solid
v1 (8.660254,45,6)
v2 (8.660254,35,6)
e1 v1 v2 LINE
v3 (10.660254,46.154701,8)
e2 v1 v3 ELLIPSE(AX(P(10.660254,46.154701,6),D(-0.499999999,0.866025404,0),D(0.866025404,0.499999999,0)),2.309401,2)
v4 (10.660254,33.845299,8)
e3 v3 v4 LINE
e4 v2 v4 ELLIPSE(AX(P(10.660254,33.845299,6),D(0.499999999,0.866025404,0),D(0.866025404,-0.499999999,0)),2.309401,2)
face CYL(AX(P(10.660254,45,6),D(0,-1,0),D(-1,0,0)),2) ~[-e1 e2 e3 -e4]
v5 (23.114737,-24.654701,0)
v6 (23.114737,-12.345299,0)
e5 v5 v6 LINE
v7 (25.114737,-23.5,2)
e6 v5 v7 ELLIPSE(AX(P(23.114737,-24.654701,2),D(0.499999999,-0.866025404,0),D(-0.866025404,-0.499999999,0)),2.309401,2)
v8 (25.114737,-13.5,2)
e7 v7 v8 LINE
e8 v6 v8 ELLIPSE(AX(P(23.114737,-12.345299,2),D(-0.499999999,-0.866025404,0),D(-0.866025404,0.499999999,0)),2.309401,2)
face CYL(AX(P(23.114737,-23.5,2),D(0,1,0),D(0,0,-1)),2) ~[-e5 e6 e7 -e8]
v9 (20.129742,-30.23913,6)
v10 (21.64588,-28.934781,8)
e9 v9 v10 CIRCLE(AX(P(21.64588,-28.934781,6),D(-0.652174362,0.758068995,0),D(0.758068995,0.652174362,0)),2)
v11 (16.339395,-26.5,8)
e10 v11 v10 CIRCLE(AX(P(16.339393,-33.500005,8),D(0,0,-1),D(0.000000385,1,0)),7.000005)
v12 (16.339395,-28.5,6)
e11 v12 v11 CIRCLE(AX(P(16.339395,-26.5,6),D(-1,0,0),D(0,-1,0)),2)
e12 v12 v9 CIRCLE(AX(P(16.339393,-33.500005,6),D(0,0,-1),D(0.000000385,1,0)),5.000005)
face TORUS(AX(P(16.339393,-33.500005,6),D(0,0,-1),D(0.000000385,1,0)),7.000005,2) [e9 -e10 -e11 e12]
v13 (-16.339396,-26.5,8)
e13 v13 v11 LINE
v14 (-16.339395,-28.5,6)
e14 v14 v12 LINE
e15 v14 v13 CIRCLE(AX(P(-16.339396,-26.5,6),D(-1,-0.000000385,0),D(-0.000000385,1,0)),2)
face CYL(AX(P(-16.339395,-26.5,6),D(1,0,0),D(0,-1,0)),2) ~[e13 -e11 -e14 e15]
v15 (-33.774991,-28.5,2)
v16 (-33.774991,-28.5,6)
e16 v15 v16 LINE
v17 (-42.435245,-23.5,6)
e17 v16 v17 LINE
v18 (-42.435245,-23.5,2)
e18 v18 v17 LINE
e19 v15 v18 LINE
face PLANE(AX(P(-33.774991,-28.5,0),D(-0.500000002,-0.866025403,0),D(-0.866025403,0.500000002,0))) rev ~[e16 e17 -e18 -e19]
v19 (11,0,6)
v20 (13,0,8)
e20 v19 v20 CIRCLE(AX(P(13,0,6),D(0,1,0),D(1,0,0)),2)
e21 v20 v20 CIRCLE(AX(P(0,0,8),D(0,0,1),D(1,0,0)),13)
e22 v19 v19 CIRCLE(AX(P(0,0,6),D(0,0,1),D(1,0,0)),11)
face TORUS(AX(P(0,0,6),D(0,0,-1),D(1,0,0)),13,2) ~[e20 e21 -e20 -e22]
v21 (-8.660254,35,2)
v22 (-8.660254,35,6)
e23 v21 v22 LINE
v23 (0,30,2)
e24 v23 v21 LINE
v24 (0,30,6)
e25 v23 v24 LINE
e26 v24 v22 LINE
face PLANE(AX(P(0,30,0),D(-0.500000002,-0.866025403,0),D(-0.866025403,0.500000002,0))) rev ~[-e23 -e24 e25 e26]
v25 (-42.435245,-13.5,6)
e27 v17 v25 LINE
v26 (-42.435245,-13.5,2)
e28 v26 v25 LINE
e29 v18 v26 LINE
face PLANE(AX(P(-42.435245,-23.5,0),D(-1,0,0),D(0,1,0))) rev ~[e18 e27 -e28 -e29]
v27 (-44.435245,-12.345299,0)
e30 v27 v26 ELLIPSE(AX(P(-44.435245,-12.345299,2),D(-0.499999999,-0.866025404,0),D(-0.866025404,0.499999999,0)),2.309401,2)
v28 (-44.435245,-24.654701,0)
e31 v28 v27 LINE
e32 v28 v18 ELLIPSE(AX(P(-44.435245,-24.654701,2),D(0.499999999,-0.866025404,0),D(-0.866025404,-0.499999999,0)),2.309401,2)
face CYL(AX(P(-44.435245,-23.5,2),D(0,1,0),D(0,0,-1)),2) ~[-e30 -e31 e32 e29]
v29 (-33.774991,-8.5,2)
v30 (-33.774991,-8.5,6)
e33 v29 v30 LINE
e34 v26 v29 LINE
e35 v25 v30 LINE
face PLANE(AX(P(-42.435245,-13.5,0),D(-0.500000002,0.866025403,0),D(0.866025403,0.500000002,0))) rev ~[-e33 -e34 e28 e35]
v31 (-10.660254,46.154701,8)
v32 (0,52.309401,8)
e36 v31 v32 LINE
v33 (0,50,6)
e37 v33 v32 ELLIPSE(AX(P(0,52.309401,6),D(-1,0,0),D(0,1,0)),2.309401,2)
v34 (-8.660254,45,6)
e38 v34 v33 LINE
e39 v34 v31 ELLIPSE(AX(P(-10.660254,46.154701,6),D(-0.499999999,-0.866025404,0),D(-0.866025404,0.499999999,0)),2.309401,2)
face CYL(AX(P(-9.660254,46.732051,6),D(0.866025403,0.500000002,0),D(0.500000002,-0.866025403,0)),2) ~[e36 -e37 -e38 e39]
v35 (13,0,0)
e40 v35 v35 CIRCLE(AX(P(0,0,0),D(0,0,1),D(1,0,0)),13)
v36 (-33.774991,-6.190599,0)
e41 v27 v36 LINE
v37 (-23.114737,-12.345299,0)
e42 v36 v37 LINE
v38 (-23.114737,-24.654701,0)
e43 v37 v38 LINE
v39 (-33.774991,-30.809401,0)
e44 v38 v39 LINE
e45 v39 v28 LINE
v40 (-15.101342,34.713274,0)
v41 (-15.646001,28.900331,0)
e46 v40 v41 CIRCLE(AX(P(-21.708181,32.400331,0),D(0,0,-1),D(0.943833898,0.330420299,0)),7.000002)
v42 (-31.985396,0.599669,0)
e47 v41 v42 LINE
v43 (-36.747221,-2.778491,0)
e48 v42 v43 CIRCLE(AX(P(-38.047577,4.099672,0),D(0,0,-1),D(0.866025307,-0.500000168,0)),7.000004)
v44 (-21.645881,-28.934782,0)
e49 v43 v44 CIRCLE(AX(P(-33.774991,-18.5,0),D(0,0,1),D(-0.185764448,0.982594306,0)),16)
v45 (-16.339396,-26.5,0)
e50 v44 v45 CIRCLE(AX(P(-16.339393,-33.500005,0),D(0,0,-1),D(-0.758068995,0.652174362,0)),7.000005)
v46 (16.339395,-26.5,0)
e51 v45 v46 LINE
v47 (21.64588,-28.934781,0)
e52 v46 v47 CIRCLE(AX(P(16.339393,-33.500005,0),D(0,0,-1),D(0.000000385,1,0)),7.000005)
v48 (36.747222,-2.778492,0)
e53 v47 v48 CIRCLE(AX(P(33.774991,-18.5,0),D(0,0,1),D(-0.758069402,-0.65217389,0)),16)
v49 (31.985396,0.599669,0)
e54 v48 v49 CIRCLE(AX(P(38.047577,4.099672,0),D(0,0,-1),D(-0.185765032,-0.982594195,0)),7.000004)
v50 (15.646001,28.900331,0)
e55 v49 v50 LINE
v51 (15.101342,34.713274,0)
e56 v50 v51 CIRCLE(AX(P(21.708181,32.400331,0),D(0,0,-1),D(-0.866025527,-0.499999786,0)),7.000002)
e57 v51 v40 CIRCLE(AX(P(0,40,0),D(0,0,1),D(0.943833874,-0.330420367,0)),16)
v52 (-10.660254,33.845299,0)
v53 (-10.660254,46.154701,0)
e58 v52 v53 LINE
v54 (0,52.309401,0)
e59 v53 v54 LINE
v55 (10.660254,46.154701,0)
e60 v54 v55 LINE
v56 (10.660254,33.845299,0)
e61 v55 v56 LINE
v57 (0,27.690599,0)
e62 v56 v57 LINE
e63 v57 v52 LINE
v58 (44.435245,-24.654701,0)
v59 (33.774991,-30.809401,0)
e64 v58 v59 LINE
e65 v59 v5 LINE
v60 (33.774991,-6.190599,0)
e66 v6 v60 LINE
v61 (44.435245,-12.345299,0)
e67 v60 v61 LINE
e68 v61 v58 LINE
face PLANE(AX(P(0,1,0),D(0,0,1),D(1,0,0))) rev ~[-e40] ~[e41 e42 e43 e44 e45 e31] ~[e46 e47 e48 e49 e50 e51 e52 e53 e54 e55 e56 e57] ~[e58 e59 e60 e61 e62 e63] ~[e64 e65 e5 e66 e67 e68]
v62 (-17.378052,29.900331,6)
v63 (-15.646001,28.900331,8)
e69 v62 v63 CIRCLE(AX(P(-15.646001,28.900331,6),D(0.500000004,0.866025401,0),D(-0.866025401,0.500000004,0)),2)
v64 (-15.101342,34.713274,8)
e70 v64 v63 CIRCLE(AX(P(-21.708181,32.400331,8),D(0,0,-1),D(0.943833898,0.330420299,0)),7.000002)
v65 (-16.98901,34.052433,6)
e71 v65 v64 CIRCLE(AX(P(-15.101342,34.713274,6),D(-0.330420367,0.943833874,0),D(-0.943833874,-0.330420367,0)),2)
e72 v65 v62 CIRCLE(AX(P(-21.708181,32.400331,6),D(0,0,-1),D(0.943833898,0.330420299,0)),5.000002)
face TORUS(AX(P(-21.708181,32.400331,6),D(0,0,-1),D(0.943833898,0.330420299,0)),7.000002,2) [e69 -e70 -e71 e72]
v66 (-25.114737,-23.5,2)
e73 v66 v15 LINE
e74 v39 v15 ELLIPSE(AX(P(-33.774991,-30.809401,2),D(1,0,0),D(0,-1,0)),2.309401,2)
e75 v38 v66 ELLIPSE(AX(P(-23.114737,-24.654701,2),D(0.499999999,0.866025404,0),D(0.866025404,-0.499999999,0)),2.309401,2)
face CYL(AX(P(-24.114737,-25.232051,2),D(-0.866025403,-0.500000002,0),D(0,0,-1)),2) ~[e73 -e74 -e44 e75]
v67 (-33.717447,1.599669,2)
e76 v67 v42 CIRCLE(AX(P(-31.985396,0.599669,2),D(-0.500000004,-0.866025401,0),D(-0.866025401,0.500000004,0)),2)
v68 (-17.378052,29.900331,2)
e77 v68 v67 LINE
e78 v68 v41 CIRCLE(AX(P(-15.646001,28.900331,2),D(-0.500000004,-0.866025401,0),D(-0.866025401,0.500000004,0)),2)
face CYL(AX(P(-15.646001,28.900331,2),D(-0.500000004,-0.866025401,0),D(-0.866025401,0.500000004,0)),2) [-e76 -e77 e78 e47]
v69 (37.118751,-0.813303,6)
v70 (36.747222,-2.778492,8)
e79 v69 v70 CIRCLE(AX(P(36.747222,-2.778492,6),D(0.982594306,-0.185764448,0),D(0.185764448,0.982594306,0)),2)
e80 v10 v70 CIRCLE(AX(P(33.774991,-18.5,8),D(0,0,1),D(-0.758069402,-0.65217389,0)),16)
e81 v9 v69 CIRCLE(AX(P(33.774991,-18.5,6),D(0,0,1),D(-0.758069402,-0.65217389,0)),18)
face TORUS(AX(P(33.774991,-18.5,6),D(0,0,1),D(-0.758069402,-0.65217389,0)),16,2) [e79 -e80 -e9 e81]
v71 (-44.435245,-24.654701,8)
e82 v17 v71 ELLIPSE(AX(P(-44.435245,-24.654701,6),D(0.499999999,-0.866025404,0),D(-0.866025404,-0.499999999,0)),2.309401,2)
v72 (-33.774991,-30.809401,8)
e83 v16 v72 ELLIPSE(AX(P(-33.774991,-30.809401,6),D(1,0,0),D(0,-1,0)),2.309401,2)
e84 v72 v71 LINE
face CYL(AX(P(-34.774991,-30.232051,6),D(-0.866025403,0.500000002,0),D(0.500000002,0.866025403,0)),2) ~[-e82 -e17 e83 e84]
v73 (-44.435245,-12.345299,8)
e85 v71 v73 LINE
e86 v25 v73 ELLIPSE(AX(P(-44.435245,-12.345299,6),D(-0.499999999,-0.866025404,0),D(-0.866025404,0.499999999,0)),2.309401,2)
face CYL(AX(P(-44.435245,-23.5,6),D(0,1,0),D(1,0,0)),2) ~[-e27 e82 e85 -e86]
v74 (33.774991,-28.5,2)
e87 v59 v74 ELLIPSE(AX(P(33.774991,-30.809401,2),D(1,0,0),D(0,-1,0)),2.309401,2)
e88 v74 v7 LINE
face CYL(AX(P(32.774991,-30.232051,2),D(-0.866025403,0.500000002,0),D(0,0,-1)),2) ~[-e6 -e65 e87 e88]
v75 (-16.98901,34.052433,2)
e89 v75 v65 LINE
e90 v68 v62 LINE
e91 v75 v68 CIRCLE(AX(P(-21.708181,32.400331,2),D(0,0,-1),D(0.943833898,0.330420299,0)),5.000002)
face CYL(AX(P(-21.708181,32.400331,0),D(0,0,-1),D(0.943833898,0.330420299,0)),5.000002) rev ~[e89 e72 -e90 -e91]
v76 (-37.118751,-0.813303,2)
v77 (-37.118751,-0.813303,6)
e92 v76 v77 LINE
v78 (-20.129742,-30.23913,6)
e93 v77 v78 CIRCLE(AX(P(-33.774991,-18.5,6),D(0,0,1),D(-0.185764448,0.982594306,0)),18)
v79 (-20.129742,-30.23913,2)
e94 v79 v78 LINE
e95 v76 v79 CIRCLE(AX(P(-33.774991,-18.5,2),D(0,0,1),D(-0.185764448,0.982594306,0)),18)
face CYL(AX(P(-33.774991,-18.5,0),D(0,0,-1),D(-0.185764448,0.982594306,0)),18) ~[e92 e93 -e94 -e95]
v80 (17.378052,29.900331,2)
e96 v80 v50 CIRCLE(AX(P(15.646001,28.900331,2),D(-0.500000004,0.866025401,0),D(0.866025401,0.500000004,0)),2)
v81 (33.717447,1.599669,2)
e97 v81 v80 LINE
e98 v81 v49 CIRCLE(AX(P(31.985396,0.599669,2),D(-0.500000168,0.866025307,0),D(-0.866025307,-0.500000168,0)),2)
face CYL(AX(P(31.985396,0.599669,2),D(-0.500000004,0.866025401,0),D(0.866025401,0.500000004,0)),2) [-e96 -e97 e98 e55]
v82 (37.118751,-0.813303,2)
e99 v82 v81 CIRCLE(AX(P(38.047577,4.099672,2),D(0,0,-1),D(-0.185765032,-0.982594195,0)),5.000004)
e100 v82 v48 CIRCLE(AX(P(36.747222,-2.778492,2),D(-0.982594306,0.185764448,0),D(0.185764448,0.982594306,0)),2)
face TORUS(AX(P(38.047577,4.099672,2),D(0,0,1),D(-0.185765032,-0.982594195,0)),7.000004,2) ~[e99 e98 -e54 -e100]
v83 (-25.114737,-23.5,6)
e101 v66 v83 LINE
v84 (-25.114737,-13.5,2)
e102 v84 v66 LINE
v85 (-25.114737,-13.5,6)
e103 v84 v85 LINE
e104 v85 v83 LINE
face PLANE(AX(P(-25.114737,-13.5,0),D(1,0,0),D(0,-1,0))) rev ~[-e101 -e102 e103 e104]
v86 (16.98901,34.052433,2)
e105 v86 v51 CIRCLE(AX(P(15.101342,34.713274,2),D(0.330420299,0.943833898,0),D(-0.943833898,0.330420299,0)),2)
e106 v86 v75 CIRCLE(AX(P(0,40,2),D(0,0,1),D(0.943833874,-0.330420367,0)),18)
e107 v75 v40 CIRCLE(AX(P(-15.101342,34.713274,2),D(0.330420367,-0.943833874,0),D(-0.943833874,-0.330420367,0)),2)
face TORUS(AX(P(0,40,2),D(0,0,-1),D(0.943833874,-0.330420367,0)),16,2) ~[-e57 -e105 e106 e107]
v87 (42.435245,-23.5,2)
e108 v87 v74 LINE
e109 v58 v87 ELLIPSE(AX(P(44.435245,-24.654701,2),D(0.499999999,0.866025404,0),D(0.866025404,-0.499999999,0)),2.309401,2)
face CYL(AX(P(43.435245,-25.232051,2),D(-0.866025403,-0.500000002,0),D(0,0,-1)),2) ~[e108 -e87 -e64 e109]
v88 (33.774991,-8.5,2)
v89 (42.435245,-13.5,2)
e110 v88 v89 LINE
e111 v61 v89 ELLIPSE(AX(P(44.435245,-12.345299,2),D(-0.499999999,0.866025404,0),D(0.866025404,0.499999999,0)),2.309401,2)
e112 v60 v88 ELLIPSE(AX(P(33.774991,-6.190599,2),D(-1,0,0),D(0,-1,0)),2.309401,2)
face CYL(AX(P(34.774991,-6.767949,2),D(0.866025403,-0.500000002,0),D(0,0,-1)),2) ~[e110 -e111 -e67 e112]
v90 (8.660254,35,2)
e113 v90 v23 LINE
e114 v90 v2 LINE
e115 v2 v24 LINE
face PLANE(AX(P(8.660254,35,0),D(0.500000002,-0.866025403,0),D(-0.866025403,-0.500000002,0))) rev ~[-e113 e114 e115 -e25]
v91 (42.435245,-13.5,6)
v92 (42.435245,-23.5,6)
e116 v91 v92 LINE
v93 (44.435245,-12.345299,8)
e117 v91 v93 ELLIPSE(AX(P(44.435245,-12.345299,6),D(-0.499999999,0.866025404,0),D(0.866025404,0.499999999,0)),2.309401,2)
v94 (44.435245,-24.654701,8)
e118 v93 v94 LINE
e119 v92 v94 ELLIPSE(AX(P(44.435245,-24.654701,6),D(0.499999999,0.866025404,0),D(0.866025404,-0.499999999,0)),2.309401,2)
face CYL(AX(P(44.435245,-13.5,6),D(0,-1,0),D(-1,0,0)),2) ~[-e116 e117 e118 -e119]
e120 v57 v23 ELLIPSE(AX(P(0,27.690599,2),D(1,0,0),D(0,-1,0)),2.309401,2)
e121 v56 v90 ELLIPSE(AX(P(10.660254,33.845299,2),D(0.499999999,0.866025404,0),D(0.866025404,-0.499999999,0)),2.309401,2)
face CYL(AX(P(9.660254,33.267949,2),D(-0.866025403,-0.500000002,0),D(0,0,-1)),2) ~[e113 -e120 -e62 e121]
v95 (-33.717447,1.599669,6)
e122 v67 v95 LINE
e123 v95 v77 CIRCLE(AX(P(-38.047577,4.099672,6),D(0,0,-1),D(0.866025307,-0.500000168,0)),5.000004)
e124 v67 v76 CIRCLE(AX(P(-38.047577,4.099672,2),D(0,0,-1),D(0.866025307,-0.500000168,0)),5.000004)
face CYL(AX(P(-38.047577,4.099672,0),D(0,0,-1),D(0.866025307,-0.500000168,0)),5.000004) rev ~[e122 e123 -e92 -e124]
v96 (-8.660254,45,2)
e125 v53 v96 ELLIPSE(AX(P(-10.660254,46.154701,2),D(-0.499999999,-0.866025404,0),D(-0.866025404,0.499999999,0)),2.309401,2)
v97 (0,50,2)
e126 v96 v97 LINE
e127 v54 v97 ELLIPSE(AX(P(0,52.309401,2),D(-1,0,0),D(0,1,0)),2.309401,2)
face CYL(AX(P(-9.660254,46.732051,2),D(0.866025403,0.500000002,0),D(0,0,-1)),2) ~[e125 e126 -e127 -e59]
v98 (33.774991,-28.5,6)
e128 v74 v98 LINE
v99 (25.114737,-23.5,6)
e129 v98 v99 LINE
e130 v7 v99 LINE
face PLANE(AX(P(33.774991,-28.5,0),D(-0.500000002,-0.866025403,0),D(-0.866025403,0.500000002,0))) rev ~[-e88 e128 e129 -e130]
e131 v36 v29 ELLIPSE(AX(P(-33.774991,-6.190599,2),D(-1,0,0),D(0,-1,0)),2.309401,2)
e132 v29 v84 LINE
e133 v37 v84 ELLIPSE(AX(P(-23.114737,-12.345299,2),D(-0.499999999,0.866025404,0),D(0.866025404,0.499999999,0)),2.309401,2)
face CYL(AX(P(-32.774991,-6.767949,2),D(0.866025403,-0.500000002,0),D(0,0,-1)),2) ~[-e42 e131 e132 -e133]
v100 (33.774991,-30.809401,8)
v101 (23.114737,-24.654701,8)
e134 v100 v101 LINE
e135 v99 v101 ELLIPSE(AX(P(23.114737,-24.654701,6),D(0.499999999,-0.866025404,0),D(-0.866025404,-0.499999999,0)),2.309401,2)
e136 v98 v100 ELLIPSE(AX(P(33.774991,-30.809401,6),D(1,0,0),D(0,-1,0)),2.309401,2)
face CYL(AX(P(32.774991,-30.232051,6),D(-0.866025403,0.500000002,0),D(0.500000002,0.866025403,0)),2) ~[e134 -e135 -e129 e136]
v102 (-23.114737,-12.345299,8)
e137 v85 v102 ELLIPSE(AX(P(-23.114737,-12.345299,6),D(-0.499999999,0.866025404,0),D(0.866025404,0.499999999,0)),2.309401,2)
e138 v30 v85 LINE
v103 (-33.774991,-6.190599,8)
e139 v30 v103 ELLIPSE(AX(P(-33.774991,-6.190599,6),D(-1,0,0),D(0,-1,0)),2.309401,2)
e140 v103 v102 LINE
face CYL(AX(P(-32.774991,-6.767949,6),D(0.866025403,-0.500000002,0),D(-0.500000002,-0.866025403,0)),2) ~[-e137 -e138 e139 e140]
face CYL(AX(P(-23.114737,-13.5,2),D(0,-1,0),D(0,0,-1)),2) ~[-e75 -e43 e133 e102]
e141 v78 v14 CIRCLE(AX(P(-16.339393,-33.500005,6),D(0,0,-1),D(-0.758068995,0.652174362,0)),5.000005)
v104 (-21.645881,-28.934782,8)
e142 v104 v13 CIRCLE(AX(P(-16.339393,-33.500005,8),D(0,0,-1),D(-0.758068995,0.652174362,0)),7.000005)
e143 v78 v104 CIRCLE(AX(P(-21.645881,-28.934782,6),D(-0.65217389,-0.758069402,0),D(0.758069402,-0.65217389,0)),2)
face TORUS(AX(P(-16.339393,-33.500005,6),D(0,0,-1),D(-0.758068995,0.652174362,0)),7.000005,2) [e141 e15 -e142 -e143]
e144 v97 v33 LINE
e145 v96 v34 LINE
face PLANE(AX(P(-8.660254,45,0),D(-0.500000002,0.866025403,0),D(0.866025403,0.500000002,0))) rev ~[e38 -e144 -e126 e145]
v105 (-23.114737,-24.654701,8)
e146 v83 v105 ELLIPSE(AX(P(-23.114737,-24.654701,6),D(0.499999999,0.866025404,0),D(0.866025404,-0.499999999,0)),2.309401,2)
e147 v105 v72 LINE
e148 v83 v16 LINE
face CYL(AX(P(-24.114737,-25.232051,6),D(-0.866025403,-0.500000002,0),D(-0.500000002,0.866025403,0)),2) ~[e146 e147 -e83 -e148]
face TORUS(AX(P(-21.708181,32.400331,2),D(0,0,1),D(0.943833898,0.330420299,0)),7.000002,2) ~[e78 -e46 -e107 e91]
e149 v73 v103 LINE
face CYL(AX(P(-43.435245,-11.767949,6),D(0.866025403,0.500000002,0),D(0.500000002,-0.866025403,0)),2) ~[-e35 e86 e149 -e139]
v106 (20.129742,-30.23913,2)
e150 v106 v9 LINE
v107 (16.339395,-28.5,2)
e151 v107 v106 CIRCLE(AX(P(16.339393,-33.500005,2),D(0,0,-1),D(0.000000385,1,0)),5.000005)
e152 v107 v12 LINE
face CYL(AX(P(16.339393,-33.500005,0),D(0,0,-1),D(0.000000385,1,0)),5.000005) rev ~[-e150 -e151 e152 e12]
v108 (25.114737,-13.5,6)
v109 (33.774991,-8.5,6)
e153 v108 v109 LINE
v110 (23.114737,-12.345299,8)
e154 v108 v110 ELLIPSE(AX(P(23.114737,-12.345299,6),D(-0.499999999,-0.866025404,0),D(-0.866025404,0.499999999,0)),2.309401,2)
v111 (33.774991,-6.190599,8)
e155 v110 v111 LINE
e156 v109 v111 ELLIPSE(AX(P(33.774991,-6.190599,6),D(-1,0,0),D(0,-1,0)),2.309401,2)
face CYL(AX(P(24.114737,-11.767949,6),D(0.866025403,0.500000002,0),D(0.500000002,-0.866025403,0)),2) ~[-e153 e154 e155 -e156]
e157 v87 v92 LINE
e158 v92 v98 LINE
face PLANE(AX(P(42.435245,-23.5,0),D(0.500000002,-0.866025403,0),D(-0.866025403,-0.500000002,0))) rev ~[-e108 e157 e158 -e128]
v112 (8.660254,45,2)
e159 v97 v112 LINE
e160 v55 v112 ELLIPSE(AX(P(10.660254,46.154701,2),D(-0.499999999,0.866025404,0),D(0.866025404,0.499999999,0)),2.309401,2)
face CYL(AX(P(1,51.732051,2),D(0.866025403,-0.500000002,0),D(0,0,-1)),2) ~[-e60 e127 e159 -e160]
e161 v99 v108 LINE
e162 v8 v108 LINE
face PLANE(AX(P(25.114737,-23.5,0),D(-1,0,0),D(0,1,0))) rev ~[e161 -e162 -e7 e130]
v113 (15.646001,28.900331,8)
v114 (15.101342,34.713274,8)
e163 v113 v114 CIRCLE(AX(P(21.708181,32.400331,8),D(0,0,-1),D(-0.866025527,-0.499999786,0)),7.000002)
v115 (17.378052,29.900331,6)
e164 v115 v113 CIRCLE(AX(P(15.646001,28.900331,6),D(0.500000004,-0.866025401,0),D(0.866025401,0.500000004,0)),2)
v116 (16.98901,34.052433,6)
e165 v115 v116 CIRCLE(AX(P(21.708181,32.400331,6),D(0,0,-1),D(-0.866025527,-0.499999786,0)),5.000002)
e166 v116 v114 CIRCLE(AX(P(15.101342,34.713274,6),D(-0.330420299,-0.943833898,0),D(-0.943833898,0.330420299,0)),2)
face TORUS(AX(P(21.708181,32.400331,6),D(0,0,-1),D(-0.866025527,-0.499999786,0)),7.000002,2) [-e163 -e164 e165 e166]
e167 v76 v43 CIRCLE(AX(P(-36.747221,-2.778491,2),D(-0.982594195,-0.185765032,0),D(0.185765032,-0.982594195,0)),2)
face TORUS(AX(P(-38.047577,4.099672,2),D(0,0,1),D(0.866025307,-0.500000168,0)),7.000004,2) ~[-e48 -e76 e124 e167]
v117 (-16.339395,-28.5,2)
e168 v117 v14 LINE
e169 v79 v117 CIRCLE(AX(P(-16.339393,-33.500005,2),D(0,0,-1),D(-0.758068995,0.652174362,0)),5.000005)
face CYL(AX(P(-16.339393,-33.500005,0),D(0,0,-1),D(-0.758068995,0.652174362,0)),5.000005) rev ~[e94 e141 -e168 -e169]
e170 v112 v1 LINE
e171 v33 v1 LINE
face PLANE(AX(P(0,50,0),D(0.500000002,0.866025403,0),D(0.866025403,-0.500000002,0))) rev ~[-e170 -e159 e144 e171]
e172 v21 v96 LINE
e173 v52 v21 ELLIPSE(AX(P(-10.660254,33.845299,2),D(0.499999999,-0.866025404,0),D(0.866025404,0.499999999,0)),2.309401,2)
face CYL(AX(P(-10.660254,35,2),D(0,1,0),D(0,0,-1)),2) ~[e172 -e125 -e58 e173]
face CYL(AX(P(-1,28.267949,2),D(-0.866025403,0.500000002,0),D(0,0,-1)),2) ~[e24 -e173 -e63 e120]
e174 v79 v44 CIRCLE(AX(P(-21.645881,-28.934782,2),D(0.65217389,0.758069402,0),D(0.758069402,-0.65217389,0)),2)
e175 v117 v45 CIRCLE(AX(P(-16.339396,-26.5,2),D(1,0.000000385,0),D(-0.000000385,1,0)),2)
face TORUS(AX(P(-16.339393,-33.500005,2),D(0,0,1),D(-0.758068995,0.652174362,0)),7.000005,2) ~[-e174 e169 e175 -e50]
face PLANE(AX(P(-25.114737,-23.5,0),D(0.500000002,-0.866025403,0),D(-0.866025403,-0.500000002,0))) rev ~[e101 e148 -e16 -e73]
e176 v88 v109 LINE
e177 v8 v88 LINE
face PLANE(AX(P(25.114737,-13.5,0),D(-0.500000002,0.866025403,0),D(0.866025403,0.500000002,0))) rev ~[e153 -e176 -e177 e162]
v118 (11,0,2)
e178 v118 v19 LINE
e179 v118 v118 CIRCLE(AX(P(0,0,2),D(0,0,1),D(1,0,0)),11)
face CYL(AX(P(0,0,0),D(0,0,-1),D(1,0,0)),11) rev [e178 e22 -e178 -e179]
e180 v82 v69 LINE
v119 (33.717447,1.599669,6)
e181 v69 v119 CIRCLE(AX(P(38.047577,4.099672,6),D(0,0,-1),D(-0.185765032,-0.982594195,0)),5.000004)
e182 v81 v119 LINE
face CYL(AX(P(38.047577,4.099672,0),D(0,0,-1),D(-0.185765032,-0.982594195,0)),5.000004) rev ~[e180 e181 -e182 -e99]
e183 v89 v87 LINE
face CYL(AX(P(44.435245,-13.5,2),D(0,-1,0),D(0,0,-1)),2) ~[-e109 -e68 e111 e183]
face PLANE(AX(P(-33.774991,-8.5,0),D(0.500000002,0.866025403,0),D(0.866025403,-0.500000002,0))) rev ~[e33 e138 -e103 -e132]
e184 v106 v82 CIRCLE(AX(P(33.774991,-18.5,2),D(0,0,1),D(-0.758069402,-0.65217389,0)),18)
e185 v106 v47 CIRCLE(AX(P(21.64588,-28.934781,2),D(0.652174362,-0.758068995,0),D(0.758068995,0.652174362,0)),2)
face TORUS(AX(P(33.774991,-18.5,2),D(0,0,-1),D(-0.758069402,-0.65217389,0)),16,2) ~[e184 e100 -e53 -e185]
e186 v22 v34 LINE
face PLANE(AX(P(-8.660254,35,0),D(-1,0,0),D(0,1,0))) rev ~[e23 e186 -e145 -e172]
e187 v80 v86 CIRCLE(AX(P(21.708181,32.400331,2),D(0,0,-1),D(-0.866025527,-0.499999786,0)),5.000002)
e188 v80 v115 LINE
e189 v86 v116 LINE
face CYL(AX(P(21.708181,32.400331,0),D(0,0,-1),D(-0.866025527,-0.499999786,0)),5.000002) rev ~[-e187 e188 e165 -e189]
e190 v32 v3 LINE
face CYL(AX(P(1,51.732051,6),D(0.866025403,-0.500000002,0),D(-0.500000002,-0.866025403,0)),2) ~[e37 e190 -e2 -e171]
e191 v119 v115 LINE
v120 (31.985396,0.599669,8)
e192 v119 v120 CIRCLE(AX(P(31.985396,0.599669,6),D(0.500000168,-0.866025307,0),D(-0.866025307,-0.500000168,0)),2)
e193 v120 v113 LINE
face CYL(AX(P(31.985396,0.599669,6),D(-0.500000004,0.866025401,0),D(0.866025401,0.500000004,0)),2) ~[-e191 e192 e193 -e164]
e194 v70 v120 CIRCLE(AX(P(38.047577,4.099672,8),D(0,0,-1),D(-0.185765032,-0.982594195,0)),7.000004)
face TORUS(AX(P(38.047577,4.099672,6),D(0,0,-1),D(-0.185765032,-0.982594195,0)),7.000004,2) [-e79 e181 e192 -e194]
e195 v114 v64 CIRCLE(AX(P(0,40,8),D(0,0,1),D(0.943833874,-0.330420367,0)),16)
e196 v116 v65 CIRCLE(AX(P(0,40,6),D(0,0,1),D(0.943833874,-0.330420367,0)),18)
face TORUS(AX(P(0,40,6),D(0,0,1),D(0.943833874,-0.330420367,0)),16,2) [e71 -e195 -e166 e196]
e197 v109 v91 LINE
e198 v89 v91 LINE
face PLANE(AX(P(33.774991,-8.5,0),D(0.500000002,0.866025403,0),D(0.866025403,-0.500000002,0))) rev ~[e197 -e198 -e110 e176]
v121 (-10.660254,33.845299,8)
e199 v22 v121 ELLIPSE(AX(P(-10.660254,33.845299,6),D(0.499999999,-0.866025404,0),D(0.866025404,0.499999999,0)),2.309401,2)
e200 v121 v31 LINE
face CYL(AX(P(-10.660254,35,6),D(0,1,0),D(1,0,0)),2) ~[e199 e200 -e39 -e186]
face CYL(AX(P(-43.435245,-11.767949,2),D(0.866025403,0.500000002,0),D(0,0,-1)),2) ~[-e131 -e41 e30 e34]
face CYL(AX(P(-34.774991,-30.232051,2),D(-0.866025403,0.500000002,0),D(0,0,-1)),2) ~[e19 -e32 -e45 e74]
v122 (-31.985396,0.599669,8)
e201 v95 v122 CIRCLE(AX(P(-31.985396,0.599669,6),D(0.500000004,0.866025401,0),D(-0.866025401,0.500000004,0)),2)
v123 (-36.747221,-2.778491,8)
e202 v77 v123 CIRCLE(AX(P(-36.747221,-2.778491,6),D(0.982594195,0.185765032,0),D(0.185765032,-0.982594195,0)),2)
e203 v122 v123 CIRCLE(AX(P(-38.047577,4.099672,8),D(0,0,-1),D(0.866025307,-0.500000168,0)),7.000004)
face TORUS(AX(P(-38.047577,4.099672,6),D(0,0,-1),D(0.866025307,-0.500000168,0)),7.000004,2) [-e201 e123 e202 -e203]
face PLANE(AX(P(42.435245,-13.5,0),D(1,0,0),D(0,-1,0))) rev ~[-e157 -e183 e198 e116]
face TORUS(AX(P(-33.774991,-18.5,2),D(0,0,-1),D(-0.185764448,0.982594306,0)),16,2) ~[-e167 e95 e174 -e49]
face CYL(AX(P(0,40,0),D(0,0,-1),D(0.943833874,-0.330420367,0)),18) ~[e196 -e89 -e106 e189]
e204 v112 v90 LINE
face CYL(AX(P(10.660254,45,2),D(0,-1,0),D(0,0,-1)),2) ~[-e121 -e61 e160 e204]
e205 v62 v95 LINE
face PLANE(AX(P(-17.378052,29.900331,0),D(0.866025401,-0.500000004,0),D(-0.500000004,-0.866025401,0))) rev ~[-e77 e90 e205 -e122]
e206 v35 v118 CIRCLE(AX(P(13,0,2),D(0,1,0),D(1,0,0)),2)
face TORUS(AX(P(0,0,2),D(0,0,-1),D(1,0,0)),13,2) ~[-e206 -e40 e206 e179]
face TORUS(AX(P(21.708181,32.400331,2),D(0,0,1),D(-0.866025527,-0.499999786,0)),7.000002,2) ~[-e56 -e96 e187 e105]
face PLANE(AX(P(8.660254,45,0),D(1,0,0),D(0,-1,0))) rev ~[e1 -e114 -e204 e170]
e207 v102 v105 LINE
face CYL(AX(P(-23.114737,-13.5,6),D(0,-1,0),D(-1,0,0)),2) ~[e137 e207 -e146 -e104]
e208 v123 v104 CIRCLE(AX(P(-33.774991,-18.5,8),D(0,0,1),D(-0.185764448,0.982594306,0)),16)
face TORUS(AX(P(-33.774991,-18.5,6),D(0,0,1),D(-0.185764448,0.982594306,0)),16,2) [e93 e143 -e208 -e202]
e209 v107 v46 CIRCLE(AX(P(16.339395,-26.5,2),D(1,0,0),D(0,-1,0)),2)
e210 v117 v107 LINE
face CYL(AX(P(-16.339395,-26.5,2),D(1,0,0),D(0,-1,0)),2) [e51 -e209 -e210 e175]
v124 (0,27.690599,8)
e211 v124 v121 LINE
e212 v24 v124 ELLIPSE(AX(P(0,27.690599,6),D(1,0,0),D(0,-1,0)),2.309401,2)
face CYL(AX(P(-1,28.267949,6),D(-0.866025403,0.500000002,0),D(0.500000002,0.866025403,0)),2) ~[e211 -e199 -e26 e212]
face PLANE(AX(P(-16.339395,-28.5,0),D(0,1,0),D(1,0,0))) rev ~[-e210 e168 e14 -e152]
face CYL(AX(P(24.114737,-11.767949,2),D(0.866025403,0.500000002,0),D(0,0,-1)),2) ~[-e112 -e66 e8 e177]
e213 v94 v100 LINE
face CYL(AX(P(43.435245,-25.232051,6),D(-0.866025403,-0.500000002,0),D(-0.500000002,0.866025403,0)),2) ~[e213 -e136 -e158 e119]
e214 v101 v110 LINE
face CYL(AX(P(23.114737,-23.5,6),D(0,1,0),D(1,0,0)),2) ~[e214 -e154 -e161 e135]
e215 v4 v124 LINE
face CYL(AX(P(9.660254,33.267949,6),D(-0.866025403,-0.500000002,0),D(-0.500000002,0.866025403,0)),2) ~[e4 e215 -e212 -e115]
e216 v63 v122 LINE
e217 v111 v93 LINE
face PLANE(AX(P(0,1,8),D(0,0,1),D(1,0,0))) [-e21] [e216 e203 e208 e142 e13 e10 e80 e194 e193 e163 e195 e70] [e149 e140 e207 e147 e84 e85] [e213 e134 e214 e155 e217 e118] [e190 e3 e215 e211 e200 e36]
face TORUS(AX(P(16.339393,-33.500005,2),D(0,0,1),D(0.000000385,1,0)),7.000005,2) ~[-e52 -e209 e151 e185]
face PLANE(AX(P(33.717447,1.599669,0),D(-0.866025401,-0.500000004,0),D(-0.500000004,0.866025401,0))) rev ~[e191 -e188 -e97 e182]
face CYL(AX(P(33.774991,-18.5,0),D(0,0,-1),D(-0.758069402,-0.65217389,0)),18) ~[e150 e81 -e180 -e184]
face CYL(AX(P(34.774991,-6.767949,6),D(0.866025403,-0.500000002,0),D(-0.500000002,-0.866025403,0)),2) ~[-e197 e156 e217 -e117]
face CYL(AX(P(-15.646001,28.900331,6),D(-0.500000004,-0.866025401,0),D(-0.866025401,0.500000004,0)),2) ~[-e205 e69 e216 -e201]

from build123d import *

# Parameters (mm, degrees)
F0_R     = 11
F1_DEPTH = 8
F2_R     = 2
F3_R     = 2


with BuildPart() as f1:
    # F0 (on Top) → F1 (new body)
    with BuildSketch(Plane.XY):
        with BuildLine():
            ThreePointArc((-33.717447, 1.599669), (-35.154523, 0.021648), (-37.118751, -0.813303))
            ThreePointArc((-37.118751, -0.813303), (-49.363448, -27.5), (-20.129742, -30.23913))
            ThreePointArc((-20.129742, -30.23913), (-18.424539, -28.955534), (-16.339395, -28.5))
            Line((-16.339395, -28.5), (16.339395, -28.5))
            ThreePointArc((16.339395, -28.5), (18.424539, -28.955534), (20.129742, -30.23913))
            ThreePointArc((20.129742, -30.23913), (49.363448, -27.5), (37.118751, -0.813303))
            ThreePointArc((37.118751, -0.813303), (35.154523, 0.021648), (33.717447, 1.599669))
            Line((33.717447, 1.599669), (17.378052, 29.900331))
            ThreePointArc((17.378052, 29.900331), (16.729984, 31.933886), (16.98901, 34.052433))
            ThreePointArc((16.98901, 34.052433), (0, 58), (-16.98901, 34.052433))
            ThreePointArc((-16.98901, 34.052433), (-16.729984, 31.933886), (-17.378052, 29.900331))
            Line((-17.378052, 29.900331), (-33.717447, 1.599669))
        make_face()
        Polygon((-25.114737, -23.5), (-33.774991, -28.5), (-42.435245, -23.5), (-42.435245, -13.5), (-33.774991, -8.5), (-25.114737, -13.5), align=None, mode=Mode.SUBTRACT)
        Circle(F0_R, mode=Mode.SUBTRACT)
        Polygon((33.774991, -8.5), (42.435245, -13.5), (42.435245, -23.5), (33.774991, -28.5), (25.114737, -23.5), (25.114737, -13.5), align=None, mode=Mode.SUBTRACT)
        Polygon((-8.660254, 35), (-8.660254, 45), (0, 50), (8.660254, 45), (8.660254, 35), (0, 30), align=None, mode=Mode.SUBTRACT)
    extrude(amount=F1_DEPTH)

    # F2
    f2_edges = [f1.edges().sort_by_distance(p)[0] for p in [
        (-25.547749, 15.75, 8),
        (-35.154523, 0.021648, 8),
        (-49.363448, -27.5, 8),
        (-18.424539, -28.955534, 8),
        (0, -28.5, 8),
        (18.424539, -28.955534, 8),
        (49.363448, -27.5, 8),
        (35.154523, 0.021648, 8),
        (25.547749, 15.75, 8),
        (16.729984, 31.933886, 8),
        (0, 58, 8),
        (-16.729984, 31.933886, 8),
        (-29.444864, -11, 8),
        (-25.114737, -18.5, 8),
        (-29.444864, -26, 8),
        (-38.105118, -26, 8),
        (-42.435245, -18.5, 8),
        (-38.105118, -11, 8),
        (-11, 0, 8),
        (38.105118, -11, 8),
        (42.435245, -18.5, 8),
        (38.105118, -26, 8),
        (29.444864, -26, 8),
        (25.114737, -18.5, 8),
        (29.444864, -11, 8),
        (-8.660254, 40, 8),
        (-4.330127, 47.5, 8),
        (4.330127, 47.5, 8),
        (8.660254, 40, 8),
        (4.330127, 32.5, 8),
        (-4.330127, 32.5, 8),
    ]]
    fillet(f2_edges, radius=F2_R)

    # F3
    f3_edges = [f1.edges().sort_by_distance(p)[0] for p in [
        (-25.547749, 15.75, 0),
        (-35.154523, 0.021648, 0),
        (-49.363448, -27.5, 0),
        (-18.424539, -28.955534, 0),
        (0, -28.5, 0),
        (18.424539, -28.955534, 0),
        (49.363448, -27.5, 0),
        (35.154523, 0.021648, 0),
        (25.547749, 15.75, 0),
        (16.729984, 31.933886, 0),
        (0, 58, 0),
        (-16.729984, 31.933886, 0),
        (-29.444864, -11, 0),
        (-25.114737, -18.5, 0),
        (-29.444864, -26, 0),
        (-38.105118, -26, 0),
        (-42.435245, -18.5, 0),
        (-38.105118, -11, 0),
        (-11, 0, 0),
        (38.105118, -11, 0),
        (42.435245, -18.5, 0),
        (38.105118, -26, 0),
        (29.444864, -26, 0),
        (25.114737, -18.5, 0),
        (29.444864, -11, 0),
        (-8.660254, 40, 0),
        (-4.330127, 47.5, 0),
        (4.330127, 47.5, 0),
        (8.660254, 40, 0),
        (4.330127, 32.5, 0),
        (-4.330127, 32.5, 0),
    ]]
    fillet(f3_edges, radius=F3_R)


solid = f1.part
